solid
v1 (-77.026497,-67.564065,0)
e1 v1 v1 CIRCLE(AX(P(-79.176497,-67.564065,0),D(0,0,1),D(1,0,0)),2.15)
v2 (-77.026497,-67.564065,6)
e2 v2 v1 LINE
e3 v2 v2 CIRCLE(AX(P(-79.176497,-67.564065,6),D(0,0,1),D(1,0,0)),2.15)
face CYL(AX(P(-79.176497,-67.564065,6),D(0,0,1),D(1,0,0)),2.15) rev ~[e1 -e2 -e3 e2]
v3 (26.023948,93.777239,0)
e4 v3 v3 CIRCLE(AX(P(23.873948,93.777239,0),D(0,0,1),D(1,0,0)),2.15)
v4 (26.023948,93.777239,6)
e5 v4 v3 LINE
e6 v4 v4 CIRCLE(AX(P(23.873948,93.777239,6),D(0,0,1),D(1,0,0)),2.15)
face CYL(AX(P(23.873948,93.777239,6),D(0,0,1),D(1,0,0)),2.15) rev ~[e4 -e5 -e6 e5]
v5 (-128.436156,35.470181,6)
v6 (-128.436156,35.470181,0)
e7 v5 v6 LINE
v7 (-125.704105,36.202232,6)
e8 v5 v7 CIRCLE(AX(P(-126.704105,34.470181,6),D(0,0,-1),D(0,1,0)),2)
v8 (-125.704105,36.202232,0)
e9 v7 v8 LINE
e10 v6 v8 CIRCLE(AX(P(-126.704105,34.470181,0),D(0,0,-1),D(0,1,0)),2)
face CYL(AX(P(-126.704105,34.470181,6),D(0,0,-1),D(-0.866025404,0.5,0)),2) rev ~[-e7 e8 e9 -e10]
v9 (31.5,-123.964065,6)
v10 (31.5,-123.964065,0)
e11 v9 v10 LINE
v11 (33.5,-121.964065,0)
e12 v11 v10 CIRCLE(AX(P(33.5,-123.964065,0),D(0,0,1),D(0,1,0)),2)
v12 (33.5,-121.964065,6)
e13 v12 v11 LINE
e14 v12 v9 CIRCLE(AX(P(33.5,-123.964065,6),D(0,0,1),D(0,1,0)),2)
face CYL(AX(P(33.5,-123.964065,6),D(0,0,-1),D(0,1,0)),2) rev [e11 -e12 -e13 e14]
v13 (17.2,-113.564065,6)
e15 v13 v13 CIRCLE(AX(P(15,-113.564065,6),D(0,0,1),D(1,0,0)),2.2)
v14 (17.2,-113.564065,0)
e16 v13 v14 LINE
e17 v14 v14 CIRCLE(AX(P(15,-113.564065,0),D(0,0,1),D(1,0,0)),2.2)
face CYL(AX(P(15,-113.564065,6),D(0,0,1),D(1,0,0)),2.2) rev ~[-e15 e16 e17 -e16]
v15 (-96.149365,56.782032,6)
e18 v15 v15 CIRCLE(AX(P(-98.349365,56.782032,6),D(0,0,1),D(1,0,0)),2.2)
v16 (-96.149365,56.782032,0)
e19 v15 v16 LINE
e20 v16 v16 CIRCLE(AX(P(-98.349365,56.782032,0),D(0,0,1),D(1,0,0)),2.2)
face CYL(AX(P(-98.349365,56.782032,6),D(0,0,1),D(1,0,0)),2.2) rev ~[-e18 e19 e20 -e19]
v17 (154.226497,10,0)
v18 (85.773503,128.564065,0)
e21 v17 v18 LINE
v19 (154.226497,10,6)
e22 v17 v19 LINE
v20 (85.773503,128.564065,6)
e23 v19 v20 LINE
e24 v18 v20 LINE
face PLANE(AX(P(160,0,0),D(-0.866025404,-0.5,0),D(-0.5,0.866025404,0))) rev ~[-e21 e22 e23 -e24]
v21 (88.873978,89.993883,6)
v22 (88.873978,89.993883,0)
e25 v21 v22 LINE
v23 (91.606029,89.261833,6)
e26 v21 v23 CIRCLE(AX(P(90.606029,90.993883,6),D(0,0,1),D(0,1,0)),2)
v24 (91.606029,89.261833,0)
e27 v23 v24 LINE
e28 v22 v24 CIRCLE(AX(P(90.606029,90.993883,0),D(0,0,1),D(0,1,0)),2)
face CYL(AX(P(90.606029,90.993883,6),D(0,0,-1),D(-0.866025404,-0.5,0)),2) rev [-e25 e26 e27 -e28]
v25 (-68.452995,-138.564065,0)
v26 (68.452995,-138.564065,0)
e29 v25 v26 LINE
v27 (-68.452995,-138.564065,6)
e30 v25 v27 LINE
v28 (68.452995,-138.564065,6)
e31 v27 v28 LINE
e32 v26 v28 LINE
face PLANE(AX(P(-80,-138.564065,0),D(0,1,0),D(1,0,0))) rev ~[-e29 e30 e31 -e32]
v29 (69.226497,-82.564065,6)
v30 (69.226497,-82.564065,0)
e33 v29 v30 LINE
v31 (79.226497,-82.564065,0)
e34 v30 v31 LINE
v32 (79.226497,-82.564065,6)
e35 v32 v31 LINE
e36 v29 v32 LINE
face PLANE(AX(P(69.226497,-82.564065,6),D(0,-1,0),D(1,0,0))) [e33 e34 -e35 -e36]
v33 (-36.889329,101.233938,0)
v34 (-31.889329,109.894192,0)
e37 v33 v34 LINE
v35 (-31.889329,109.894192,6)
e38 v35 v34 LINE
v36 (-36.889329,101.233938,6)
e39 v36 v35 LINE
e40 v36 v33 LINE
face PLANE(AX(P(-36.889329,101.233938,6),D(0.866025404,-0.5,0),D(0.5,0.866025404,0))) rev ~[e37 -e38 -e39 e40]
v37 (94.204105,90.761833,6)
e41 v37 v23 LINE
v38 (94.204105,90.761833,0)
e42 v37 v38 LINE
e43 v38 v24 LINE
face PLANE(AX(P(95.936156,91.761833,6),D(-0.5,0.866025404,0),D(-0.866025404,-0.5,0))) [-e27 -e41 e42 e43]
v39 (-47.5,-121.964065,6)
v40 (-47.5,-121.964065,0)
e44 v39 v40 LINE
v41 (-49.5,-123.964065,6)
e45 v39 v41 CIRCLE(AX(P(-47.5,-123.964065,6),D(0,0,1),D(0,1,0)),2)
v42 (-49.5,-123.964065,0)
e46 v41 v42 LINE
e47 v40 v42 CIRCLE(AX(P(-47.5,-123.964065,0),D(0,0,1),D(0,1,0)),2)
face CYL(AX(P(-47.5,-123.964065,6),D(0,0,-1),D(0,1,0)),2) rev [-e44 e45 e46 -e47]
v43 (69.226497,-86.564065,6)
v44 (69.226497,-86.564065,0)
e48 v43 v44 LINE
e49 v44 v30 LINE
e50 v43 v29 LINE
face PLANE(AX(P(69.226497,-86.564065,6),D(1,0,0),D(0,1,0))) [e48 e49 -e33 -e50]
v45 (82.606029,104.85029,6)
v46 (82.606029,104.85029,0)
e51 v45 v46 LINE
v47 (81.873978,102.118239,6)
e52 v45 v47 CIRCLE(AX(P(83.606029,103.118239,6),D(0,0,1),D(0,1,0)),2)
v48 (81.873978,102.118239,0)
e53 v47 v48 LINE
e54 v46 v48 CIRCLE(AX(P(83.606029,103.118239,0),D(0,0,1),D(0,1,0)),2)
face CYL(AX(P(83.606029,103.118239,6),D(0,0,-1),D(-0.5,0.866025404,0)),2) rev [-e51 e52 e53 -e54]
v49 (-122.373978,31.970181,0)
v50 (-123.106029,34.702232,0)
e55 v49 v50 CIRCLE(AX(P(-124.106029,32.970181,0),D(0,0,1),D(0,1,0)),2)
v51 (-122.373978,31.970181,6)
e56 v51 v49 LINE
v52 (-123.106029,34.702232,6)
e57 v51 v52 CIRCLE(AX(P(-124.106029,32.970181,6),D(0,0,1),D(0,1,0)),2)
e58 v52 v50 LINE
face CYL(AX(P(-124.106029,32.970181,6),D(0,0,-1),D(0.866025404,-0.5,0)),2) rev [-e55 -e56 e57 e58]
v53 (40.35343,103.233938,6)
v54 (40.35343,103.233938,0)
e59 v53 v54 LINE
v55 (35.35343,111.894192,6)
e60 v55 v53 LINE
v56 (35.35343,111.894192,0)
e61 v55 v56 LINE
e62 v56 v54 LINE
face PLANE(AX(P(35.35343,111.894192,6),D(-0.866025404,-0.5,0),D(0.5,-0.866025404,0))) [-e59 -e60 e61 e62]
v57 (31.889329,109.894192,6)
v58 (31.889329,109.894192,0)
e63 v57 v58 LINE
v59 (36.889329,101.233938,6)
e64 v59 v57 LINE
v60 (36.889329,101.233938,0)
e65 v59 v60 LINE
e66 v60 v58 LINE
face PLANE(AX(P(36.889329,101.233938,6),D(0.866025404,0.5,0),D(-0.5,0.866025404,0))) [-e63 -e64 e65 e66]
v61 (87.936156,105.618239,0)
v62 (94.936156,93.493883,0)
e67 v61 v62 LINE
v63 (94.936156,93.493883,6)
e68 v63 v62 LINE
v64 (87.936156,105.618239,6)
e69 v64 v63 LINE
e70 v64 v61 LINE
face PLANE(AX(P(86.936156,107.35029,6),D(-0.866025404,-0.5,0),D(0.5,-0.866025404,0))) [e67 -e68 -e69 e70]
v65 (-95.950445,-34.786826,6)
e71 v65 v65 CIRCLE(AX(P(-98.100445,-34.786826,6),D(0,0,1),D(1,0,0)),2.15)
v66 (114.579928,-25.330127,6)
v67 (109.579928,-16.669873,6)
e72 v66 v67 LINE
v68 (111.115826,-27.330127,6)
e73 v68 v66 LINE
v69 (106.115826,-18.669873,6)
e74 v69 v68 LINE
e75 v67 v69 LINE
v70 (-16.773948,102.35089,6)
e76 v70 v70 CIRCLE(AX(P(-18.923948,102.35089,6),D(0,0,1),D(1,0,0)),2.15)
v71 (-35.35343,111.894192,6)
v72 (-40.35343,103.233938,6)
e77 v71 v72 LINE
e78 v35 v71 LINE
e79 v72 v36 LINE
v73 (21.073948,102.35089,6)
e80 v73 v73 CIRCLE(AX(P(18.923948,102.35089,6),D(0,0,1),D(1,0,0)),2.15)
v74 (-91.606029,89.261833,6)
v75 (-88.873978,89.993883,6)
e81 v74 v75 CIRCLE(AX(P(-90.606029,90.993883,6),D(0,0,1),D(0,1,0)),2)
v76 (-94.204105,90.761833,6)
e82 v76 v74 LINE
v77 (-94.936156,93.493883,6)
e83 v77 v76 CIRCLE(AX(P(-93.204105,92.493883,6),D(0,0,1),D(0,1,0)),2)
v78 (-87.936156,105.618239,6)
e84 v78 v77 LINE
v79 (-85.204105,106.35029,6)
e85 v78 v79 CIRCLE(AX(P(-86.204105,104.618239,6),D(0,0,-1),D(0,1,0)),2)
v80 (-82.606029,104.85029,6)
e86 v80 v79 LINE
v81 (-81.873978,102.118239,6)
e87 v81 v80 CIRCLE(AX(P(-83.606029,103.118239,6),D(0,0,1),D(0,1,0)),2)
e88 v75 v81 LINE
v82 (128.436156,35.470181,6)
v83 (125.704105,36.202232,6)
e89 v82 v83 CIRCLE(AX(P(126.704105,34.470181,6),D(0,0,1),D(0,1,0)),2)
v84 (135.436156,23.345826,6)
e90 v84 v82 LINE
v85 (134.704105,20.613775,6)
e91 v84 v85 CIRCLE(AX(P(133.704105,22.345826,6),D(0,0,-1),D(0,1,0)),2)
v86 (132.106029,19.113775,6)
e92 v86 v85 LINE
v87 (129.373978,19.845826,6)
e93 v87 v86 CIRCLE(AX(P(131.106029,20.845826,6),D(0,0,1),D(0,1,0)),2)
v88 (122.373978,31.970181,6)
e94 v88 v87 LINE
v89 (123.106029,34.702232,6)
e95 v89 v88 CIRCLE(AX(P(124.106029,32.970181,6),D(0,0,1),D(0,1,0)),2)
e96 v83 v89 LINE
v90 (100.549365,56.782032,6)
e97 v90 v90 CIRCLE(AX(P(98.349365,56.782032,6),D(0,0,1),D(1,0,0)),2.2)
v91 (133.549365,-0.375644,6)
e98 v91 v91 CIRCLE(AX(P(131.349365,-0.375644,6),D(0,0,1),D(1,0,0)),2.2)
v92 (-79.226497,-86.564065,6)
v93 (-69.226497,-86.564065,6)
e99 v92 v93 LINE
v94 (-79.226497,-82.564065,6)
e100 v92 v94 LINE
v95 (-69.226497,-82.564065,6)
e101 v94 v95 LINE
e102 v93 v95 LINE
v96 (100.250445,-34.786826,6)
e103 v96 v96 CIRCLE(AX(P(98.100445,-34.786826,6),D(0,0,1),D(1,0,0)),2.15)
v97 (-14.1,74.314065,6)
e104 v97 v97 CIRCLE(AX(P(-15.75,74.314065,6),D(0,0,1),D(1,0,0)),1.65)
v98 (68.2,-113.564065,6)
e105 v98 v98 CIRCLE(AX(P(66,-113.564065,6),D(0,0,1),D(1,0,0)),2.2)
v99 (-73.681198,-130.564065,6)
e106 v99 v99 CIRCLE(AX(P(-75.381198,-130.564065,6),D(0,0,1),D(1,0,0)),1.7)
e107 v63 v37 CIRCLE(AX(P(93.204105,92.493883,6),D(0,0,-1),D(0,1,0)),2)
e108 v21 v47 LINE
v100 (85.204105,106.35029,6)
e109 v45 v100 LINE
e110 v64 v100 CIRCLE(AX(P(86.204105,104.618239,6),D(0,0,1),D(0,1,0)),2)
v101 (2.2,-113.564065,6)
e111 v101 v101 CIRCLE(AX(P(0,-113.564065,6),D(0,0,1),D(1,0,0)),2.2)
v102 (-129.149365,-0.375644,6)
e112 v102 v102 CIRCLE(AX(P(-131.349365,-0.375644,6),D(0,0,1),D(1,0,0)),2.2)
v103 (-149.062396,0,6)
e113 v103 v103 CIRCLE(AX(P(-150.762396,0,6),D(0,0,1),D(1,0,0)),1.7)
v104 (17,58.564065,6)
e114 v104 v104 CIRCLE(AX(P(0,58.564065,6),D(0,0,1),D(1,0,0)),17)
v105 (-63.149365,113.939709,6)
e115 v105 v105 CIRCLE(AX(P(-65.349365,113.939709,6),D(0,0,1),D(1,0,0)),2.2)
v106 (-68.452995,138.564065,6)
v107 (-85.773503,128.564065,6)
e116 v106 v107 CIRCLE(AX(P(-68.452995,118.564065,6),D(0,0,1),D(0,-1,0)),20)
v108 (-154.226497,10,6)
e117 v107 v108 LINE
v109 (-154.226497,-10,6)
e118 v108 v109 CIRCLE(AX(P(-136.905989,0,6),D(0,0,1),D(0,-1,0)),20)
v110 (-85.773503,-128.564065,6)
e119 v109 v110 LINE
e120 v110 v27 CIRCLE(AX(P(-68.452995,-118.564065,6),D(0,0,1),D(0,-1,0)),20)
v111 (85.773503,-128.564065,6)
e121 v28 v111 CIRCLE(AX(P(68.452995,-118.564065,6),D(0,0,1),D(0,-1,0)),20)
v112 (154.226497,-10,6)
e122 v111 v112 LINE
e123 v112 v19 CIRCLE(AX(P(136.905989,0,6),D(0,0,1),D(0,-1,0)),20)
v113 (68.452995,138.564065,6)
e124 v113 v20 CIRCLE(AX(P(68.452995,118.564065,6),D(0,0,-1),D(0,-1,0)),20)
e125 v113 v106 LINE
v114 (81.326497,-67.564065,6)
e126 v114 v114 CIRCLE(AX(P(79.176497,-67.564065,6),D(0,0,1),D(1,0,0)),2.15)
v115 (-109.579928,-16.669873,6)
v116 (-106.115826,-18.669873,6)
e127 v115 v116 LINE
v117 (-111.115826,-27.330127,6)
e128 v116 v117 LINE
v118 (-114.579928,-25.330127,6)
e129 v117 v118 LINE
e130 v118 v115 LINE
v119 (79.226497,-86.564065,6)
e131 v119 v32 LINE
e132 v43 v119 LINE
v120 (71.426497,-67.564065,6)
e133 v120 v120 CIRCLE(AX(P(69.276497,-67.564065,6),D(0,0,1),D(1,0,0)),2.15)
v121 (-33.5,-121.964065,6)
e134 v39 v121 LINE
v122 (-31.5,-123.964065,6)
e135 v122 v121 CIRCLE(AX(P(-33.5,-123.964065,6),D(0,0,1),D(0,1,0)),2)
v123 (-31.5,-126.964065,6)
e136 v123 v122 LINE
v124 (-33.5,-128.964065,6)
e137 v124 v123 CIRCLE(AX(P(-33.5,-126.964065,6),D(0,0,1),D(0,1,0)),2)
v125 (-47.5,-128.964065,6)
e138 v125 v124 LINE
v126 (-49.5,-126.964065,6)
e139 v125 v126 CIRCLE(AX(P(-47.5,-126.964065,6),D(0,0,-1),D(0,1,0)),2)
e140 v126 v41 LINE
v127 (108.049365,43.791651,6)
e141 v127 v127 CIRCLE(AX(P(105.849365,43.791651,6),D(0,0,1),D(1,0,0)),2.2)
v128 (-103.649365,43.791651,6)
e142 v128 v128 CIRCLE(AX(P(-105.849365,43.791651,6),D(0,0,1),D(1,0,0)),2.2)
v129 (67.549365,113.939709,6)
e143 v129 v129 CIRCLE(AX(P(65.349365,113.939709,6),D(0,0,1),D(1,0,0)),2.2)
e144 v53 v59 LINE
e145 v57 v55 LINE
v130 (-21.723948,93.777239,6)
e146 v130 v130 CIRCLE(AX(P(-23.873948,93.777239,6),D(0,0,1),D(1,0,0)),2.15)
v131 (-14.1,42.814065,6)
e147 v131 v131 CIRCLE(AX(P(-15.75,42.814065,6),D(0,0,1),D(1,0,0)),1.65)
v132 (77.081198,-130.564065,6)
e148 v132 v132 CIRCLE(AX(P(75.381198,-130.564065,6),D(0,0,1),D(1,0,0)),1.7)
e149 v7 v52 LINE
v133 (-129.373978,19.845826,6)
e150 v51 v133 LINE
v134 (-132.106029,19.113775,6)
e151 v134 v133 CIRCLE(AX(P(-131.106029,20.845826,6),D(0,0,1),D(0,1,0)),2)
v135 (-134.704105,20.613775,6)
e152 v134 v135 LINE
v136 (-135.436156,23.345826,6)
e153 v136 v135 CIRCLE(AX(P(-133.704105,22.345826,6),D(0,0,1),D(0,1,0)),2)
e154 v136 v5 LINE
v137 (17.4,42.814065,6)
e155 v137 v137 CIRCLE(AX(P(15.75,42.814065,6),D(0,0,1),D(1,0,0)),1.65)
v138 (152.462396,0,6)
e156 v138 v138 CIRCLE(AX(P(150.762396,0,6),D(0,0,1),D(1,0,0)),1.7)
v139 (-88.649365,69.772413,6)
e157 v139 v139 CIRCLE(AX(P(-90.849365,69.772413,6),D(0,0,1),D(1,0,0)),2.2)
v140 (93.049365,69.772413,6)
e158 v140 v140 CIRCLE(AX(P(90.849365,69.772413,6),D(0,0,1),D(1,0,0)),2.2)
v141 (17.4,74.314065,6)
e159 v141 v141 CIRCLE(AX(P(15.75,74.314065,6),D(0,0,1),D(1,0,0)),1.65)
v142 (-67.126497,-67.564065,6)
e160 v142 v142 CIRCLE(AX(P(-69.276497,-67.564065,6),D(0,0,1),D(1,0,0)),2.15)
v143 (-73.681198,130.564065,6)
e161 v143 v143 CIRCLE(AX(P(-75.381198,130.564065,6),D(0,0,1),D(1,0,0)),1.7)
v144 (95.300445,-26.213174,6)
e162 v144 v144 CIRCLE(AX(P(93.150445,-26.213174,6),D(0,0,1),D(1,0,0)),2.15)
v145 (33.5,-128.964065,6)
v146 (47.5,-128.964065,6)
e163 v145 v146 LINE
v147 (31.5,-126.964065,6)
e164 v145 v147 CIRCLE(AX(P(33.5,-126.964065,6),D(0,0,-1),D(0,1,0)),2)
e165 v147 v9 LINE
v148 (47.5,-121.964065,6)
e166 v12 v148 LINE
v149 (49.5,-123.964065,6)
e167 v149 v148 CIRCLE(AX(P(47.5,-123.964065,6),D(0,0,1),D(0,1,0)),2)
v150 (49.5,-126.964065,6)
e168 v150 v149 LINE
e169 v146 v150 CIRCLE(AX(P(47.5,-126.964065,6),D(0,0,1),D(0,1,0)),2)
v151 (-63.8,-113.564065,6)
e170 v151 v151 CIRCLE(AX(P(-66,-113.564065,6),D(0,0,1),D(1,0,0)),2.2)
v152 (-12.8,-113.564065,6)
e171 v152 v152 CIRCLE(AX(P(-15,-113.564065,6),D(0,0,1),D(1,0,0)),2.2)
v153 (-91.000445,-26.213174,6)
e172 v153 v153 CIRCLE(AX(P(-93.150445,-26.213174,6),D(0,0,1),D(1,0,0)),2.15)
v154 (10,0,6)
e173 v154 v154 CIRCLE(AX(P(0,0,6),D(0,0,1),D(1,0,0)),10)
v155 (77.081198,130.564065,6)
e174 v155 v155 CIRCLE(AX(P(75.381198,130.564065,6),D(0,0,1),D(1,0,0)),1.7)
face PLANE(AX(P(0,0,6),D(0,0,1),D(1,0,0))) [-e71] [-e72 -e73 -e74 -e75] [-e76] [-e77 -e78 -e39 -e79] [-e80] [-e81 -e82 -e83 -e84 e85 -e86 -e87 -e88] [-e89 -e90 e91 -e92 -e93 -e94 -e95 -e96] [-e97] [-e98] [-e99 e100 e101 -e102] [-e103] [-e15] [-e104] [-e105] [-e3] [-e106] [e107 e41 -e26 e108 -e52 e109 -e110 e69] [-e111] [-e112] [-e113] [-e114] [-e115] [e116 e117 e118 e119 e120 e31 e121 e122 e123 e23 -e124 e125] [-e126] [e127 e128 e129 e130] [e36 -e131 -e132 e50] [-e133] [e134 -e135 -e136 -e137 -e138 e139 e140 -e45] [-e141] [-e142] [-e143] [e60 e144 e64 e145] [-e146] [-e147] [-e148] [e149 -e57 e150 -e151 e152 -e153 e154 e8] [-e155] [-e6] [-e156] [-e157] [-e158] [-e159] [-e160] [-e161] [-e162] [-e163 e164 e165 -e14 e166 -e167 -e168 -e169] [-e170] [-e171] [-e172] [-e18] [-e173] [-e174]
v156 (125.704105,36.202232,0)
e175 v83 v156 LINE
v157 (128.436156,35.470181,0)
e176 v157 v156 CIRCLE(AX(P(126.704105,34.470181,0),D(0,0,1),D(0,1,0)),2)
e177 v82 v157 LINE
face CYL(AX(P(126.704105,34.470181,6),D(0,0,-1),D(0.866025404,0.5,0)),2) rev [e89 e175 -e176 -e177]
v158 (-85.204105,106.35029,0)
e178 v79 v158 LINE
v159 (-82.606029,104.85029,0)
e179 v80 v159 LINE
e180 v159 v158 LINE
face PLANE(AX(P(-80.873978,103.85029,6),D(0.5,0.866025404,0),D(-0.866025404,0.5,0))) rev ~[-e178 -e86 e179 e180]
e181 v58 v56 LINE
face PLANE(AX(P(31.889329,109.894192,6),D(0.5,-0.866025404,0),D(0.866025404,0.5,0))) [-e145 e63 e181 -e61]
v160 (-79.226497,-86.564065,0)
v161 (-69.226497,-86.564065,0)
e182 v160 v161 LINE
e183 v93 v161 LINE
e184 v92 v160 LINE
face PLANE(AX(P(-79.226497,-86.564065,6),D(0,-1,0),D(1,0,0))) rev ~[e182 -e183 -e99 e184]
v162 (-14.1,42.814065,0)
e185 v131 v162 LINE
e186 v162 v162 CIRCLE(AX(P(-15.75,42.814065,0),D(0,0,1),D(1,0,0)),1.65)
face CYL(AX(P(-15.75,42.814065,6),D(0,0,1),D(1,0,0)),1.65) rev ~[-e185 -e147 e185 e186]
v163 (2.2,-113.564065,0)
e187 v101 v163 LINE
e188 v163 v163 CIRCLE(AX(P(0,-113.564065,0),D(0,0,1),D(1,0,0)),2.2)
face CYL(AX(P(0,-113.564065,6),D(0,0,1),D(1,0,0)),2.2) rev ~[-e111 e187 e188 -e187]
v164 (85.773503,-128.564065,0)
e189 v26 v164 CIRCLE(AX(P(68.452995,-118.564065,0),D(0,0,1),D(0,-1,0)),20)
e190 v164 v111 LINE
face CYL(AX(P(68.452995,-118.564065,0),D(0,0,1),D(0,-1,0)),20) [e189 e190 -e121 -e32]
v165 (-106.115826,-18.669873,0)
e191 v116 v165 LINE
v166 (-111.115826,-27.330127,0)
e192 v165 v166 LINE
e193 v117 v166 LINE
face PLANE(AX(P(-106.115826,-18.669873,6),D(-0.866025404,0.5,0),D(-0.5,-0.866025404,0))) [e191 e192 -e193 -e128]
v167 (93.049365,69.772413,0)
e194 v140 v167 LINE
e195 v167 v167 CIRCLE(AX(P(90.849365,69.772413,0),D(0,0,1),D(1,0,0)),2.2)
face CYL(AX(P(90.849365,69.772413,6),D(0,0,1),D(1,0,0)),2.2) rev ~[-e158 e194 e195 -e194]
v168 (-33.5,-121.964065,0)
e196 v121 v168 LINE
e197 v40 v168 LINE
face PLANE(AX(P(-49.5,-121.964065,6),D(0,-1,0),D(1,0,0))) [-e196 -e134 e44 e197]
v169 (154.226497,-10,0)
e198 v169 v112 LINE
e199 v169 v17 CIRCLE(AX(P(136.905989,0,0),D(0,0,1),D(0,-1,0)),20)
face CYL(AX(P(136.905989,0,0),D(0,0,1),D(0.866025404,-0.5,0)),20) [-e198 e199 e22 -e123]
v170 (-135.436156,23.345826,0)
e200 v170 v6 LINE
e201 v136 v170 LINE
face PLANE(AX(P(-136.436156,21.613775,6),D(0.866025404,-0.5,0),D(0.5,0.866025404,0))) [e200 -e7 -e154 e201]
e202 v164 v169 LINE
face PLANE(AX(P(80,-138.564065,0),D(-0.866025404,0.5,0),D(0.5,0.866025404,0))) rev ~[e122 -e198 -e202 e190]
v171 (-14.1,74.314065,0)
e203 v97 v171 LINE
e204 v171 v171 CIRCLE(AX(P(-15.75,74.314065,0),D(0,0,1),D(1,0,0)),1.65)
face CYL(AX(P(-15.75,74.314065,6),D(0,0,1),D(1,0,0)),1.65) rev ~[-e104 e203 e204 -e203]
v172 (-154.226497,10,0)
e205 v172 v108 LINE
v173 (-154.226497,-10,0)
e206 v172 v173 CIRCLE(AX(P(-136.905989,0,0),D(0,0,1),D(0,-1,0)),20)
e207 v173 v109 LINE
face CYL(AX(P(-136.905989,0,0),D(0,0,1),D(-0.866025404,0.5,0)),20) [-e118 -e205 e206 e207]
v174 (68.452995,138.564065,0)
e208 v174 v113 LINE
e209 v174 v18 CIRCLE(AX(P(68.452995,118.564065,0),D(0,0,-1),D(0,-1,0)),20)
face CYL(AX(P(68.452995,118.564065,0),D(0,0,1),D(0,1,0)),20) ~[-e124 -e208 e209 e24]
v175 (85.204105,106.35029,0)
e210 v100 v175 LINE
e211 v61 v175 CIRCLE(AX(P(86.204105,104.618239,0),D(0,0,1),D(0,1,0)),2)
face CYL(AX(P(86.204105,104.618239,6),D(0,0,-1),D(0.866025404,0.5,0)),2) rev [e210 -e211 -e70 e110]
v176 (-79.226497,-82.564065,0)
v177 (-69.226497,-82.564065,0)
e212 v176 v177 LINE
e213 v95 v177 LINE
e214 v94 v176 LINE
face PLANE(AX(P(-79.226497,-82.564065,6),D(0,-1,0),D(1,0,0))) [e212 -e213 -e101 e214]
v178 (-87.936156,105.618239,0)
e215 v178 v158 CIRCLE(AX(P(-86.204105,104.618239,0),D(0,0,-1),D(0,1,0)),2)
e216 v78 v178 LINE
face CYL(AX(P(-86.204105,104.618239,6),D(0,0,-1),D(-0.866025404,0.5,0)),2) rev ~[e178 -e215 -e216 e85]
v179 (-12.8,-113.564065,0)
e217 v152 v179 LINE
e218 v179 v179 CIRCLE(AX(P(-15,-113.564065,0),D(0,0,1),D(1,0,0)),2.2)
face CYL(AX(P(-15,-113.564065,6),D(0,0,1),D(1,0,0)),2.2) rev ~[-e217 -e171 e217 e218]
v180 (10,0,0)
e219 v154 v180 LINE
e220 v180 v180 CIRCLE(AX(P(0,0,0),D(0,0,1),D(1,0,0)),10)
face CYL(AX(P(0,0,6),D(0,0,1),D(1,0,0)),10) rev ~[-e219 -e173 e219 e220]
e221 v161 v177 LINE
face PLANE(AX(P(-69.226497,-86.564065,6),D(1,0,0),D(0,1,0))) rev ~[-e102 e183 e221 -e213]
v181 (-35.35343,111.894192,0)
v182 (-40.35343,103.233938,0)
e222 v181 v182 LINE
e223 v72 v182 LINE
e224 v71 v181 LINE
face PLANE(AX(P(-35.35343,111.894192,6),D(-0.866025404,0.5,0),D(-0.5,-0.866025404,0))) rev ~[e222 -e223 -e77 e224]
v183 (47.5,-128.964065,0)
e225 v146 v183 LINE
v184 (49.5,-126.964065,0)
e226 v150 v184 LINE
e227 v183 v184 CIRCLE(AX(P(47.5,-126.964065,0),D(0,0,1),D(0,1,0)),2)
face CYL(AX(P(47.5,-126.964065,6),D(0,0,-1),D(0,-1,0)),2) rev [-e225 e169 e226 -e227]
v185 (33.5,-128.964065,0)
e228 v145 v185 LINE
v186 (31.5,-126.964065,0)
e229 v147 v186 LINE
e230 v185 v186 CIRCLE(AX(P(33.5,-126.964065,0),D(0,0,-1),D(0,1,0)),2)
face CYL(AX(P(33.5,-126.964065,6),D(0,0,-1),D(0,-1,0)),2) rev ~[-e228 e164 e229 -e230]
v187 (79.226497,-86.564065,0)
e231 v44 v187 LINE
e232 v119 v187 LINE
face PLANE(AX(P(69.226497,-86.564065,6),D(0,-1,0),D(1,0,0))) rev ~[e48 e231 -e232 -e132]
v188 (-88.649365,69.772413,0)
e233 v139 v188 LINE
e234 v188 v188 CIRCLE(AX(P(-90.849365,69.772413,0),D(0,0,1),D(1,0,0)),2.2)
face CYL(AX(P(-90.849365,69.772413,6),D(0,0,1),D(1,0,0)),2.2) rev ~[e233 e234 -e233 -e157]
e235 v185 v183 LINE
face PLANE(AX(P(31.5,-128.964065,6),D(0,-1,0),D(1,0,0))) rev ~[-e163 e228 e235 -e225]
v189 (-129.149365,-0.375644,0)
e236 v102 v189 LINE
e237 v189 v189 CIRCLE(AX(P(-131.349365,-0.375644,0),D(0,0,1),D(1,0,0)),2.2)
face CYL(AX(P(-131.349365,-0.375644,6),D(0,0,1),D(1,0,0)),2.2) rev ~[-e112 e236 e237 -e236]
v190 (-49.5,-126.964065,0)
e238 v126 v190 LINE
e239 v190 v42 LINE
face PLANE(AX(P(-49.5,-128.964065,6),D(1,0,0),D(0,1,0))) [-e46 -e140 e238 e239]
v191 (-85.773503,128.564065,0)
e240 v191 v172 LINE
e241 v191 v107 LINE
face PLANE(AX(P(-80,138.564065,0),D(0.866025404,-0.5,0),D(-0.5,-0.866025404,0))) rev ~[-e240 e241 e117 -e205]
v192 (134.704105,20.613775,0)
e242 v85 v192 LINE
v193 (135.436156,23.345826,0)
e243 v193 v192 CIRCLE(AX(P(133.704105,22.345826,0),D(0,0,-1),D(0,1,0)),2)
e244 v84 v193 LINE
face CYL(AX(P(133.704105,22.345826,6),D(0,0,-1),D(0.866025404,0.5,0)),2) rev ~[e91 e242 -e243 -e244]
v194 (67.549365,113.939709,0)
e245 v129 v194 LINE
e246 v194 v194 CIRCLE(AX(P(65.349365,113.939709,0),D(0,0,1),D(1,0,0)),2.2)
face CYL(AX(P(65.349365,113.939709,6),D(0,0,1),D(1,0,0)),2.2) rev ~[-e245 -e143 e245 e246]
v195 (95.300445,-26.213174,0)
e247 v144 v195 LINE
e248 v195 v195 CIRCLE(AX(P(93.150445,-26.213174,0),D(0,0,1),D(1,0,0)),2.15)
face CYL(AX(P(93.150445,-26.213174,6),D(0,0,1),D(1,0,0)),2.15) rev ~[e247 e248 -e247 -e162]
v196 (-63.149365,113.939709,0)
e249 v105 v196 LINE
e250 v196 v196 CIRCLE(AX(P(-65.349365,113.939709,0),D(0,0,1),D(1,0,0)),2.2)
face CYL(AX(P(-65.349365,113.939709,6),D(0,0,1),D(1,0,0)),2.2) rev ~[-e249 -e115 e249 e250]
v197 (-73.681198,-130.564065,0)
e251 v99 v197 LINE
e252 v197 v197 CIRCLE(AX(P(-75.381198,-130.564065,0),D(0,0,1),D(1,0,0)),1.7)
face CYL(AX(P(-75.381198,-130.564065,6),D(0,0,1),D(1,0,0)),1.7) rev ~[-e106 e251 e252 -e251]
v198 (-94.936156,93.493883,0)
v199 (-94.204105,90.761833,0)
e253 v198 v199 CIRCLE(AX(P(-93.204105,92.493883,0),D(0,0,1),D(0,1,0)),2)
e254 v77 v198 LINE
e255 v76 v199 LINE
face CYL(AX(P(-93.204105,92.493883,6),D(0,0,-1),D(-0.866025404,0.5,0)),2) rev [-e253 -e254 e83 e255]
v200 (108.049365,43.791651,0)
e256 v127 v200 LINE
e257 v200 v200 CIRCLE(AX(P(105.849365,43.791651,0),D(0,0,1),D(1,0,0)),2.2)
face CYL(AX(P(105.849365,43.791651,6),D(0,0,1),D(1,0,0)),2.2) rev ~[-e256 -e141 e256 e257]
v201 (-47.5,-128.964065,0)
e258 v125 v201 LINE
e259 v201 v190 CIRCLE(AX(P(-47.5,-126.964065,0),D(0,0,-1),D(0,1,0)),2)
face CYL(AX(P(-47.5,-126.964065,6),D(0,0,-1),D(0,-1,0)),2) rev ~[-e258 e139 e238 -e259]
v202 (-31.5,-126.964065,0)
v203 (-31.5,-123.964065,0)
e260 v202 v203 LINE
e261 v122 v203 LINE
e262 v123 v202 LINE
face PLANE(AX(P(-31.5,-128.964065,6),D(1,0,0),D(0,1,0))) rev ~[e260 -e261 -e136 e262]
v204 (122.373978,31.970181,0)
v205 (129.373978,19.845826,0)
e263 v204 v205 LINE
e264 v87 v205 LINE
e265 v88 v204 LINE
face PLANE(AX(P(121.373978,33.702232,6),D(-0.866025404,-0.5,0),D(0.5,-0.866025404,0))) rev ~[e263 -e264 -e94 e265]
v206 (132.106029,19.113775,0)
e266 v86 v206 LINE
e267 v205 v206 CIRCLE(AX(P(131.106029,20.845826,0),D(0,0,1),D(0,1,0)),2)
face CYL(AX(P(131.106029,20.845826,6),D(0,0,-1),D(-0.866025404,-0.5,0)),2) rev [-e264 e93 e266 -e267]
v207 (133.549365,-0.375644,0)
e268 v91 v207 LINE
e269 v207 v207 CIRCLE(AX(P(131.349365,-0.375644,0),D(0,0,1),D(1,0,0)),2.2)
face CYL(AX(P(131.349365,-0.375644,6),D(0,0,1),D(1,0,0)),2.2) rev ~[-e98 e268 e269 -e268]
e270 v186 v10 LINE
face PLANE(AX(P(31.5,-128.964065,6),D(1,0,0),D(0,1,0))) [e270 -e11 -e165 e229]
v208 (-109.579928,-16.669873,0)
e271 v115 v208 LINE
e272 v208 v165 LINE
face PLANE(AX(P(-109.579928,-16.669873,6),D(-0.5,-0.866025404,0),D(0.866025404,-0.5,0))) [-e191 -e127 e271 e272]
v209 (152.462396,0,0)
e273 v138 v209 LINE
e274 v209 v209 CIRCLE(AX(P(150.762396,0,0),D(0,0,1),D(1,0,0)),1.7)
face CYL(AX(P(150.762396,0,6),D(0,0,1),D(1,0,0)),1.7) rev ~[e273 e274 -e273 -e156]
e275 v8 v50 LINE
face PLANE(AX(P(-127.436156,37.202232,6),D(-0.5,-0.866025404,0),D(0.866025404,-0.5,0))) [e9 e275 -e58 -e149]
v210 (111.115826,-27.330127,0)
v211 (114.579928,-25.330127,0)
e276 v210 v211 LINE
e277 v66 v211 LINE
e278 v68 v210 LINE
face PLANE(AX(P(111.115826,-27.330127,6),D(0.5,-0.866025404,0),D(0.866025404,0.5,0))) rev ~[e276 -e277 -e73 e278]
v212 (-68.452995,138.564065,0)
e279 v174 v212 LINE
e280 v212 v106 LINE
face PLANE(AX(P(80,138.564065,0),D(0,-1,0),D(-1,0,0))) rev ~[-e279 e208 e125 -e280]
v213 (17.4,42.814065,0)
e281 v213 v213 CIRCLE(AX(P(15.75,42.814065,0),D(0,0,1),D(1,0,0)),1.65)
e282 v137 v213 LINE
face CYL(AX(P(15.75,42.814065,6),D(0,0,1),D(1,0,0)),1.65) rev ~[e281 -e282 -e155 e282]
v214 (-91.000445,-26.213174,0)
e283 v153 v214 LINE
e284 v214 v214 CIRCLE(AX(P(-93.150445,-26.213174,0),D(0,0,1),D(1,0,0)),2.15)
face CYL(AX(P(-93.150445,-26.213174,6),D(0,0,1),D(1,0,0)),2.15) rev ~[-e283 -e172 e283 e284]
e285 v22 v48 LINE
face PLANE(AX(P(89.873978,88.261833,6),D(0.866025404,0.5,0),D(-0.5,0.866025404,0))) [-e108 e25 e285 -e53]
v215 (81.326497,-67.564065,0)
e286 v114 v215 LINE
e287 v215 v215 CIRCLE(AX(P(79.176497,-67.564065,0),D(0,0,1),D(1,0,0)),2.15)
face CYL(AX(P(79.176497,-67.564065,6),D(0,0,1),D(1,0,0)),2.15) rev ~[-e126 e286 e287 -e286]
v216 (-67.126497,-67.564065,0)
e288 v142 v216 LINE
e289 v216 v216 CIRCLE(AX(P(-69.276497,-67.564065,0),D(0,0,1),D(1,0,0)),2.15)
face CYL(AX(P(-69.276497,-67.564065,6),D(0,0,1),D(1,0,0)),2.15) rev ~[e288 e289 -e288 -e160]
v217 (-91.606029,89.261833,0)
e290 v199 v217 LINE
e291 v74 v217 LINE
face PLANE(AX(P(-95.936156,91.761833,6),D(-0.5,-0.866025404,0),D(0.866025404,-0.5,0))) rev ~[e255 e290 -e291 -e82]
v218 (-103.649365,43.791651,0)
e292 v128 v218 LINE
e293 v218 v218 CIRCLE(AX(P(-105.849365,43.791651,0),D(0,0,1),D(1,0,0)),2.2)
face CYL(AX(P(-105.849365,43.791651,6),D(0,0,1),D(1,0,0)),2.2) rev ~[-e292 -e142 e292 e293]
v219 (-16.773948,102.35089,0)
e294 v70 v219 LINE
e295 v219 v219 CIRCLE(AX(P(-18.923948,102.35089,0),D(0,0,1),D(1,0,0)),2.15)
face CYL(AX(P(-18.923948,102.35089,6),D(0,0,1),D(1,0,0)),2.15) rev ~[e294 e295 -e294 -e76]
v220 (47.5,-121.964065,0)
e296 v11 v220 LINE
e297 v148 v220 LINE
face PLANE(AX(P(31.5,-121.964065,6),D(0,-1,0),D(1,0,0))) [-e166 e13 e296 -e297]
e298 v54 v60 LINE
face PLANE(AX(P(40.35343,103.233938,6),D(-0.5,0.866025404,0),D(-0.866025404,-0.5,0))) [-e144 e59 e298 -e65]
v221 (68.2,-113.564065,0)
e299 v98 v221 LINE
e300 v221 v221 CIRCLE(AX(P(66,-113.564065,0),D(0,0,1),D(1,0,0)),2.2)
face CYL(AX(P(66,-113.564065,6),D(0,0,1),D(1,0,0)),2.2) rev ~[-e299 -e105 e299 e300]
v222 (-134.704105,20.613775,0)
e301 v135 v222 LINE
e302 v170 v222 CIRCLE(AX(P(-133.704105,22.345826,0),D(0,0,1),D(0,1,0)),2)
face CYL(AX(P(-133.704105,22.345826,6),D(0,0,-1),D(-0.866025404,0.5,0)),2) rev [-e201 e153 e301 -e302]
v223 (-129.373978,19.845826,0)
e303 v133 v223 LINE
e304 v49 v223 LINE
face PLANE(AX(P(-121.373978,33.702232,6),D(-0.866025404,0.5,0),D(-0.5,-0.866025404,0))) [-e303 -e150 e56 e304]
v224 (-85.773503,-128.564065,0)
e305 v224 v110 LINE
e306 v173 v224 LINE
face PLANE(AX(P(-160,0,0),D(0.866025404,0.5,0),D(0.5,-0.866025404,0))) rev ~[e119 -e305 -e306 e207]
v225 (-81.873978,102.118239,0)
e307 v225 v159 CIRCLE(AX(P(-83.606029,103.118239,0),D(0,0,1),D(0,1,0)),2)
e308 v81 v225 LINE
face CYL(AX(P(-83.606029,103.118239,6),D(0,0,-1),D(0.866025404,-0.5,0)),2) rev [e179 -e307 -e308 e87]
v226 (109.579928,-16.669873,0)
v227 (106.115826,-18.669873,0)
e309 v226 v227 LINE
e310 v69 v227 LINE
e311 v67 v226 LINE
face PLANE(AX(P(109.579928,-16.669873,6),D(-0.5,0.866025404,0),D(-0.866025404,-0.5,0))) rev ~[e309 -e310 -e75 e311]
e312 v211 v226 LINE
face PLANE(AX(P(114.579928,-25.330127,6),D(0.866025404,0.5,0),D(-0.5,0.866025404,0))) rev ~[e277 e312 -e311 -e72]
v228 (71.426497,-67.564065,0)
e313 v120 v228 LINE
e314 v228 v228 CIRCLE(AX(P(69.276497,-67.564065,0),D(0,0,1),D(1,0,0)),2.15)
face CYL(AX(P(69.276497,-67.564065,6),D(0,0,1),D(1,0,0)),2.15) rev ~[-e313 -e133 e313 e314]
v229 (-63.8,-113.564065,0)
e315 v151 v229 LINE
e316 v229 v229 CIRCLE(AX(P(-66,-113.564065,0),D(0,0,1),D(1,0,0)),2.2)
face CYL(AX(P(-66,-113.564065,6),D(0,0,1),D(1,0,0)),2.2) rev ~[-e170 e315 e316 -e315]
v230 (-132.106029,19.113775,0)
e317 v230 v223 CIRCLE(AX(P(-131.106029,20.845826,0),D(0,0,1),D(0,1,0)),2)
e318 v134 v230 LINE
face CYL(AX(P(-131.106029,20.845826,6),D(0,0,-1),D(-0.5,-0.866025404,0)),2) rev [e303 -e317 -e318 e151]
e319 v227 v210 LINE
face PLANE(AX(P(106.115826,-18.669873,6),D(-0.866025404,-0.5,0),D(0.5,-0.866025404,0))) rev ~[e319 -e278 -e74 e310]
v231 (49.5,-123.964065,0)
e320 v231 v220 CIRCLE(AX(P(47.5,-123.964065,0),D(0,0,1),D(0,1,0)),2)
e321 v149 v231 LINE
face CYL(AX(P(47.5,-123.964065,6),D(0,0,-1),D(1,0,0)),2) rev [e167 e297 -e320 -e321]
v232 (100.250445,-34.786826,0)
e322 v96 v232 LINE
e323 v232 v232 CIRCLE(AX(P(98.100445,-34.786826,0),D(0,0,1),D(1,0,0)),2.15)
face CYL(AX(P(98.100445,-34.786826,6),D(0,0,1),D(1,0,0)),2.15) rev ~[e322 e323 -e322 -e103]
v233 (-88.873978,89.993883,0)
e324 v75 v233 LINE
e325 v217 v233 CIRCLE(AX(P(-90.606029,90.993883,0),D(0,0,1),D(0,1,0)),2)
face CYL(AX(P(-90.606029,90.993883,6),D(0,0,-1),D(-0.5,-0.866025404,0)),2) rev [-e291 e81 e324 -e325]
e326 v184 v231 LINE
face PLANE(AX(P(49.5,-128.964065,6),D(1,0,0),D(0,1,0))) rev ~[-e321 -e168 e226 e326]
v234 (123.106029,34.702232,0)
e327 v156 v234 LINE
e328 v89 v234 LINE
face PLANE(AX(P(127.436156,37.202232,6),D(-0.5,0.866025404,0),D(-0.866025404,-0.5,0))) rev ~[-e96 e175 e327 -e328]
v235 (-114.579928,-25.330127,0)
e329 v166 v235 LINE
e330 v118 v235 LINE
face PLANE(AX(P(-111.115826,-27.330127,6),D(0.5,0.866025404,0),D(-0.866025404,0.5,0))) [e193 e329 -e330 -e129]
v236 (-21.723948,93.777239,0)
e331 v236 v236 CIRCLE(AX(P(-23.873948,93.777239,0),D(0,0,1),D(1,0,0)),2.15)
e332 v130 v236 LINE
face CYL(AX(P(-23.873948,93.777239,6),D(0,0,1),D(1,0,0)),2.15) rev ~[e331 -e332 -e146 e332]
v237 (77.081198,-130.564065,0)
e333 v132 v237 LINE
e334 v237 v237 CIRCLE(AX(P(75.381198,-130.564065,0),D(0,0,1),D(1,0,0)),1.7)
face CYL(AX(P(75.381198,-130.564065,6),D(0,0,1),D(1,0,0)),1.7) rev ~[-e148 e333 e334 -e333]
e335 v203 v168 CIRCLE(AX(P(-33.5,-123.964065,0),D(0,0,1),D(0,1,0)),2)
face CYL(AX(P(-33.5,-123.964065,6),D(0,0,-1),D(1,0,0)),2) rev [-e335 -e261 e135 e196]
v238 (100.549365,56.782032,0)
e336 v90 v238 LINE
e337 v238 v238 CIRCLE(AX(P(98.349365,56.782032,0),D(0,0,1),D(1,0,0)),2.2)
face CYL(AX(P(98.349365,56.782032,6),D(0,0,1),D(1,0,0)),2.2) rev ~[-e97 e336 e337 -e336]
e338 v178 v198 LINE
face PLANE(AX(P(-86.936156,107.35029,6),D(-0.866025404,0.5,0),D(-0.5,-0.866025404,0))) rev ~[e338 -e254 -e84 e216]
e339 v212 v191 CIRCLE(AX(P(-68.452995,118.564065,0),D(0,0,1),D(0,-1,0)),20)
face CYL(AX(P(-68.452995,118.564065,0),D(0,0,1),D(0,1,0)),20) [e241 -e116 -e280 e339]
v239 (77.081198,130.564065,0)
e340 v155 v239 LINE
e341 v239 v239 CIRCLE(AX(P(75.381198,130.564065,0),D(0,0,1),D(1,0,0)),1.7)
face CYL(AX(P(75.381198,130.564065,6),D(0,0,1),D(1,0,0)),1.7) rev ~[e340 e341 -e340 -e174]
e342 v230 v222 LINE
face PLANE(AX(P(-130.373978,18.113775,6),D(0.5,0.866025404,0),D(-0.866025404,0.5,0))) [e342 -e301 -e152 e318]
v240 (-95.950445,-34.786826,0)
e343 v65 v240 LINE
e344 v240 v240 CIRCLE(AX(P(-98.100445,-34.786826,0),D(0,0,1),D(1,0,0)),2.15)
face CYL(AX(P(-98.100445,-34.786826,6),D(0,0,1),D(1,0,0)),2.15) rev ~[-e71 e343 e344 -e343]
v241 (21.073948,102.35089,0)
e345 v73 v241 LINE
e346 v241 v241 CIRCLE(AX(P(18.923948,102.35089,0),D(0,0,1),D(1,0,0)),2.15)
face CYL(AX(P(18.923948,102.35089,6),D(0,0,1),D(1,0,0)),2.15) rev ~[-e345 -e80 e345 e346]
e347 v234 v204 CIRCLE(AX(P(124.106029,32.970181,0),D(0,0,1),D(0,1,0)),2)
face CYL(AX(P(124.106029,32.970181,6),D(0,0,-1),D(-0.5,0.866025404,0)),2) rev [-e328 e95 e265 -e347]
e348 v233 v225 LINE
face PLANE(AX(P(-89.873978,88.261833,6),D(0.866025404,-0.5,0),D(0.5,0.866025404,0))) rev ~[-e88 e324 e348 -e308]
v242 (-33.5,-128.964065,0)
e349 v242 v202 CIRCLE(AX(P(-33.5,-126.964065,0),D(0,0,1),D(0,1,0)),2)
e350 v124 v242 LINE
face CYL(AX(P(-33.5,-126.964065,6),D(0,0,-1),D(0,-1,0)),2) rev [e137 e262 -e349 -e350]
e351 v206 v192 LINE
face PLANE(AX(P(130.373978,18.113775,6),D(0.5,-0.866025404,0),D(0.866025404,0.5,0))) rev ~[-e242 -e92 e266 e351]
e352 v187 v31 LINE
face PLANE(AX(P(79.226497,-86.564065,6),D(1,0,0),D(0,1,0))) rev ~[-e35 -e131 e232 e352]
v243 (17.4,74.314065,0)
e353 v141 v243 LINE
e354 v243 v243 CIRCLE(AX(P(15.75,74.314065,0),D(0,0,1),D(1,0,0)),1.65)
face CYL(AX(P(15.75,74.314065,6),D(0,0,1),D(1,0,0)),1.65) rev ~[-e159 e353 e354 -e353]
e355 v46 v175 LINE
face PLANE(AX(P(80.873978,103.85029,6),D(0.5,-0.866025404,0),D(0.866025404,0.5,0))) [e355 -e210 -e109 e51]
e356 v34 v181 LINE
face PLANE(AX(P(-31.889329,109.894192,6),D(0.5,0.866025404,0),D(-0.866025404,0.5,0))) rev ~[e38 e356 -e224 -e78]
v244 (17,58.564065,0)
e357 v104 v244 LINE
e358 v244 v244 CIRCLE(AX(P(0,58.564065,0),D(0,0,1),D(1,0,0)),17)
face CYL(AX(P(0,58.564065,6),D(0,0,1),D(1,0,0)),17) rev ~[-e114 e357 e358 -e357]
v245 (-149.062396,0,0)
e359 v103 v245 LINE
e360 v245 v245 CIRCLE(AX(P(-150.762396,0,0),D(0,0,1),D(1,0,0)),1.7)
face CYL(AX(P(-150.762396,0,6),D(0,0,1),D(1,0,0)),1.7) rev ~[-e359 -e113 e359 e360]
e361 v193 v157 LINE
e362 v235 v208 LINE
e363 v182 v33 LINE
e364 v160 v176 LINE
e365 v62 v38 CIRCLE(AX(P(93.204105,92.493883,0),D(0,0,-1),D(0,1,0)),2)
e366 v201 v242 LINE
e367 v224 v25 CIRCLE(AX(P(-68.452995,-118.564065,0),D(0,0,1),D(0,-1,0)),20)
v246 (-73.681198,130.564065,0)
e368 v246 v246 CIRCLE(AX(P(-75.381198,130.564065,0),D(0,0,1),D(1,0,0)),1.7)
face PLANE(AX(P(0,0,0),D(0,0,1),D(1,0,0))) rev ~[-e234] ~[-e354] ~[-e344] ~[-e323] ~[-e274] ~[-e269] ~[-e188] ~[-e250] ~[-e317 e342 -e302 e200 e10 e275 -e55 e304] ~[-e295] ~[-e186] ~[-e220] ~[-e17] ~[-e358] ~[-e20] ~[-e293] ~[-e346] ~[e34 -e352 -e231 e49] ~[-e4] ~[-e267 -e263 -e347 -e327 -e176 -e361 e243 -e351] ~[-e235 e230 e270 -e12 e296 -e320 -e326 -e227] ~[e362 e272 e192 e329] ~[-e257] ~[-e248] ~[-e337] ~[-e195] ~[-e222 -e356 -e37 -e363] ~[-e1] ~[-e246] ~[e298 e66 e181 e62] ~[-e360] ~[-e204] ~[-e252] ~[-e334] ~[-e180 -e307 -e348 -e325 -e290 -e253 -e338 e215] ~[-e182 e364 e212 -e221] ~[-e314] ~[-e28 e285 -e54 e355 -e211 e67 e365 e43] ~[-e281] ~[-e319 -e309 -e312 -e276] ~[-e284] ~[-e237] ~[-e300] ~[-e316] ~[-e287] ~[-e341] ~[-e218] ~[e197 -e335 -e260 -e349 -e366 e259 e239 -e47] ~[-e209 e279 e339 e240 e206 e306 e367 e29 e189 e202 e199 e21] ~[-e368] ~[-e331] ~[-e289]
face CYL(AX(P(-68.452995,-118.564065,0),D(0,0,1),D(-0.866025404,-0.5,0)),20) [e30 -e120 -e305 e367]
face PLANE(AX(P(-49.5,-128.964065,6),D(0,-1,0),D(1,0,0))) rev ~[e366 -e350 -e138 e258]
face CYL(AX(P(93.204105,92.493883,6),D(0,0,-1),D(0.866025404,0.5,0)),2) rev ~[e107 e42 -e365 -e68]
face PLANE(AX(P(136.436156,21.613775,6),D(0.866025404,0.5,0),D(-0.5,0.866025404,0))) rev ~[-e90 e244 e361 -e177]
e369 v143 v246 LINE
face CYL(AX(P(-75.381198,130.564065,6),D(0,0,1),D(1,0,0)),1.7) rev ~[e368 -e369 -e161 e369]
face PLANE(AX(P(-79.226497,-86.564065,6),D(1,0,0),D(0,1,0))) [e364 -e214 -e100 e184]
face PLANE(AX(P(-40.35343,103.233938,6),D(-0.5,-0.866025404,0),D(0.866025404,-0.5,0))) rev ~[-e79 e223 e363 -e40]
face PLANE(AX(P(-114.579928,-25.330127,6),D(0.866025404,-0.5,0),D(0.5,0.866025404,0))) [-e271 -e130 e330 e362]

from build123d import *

# Parameters (mm, degrees)
BOSS_EXTRUDE1_DEPTH = 6
FILLET1_R           = 20
SKETCH5_R           = 2.2
CUT_EXTRUDE3_DEPTH  = 10
SKETCH6_W           = 18
SKETCH6_H           = 7
CUT_EXTRUDE4_DEPTH  = 10
FILLET3_R           = 2
SKETCH9_R           = 1.7
CUT_EXTRUDE7_DEPTH  = 70
SKETCH14_R          = 10
CUT_EXTRUDE10_DEPTH = 43
SKETCH15_W          = 10
SKETCH15_H          = 4
CUT_EXTRUDE11_DEPTH = 10
SKETCH16_R          = 1.65
SKETCH16_R_2        = 17
CUT_EXTRUDE12_DEPTH = 10
SKETCH19_R          = 2.2
CUT_EXTRUDE14_DEPTH = 10
SKETCH23_R          = 2.15
CUT_EXTRUDE15_DEPTH = 10


with BuildPart() as part:
    # Sketch1 → Boss-Extrude1 (new body)
    with BuildSketch(Plane.XY):
        Polygon((80, 138.564064606), (-80, 138.564064606), (-160, 0), (-80, -138.564064606), (80, -138.564064606), (160, 0), align=None)
    extrude(amount=BOSS_EXTRUDE1_DEPTH)

    # Fillet1
    fillet1_edges = [part.edges().sort_by_distance(p)[0] for p in [
        (160, 0, 3),
        (80, -138.564064606, 3),
        (-80, -138.564064606, 3),
        (-160, 0, 3),
        (-80, 138.564064606, 3),
        (80, 138.564064606, 3),
    ]]
    fillet(fillet1_edges, radius=FILLET1_R)

    # Sketch5 → Cut-Extrude3 (cut)
    with BuildSketch(Plane.XY.offset(6)):
        with Locations((-66, -113.564064606)):
            Circle(SKETCH5_R)
        with Locations((-15, -113.564064606)):
            Circle(SKETCH5_R)
        with Locations((15, -113.564064606)):
            Circle(SKETCH5_R)
        with Locations((66, -113.564064606)):
            Circle(SKETCH5_R)
        with Locations((-65.349364905, 113.939708953)):
            Circle(SKETCH5_R)
        with Locations((-90.849364905, 69.77241336)):
            Circle(SKETCH5_R)
        with Locations((-105.849364905, 43.791651246)):
            Circle(SKETCH5_R)
        with Locations((-131.349364905, -0.375644347)):
            Circle(SKETCH5_R)
        with Locations((131.349364905, -0.375644347)):
            Circle(SKETCH5_R)
        with Locations((105.849364905, 43.791651246)):
            Circle(SKETCH5_R)
        with Locations((90.849364905, 69.77241336)):
            Circle(SKETCH5_R)
        with Locations((65.349364905, 113.939708953)):
            Circle(SKETCH5_R)
    extrude(amount=-CUT_EXTRUDE3_DEPTH, mode=Mode.SUBTRACT)

    # Sketch6 → Cut-Extrude4 (cut)
    with BuildSketch(Plane.XY.offset(6)):
        with Locations((-40.5, -125.464064606)):
            Rectangle(SKETCH6_W, SKETCH6_H)
        with Locations((40.5, -125.464064606)):
            Rectangle(SKETCH6_W, SKETCH6_H)
        Polygon((-86.936156124, 107.35028979), (-95.936156124, 91.761832522), (-89.873978297, 88.261832522), (-80.873978297, 103.85028979), align=None)
        Polygon((-127.436156124, 37.202232084), (-121.373978297, 33.702232084), (-130.373978297, 18.113774815), (-136.436156124, 21.613774815), align=None)
        Polygon((136.436156124, 21.613774815), (127.436156124, 37.202232084), (121.373978297, 33.702232084), (130.373978297, 18.113774815), align=None)
        Polygon((95.936156124, 91.761832522), (89.873978297, 88.261832522), (80.873978297, 103.85028979), (86.936156124, 107.35028979), align=None)
    extrude(amount=-CUT_EXTRUDE4_DEPTH, mode=Mode.SUBTRACT)

    # Fillet3
    fillet3_edges = [part.edges().sort_by_distance(p)[0] for p in [
        (121.373978297, 33.702232084, 3),
        (127.436156124, 37.202232084, 3),
        (136.436156124, 21.613774815, 3),
        (130.373978297, 18.113774815, 3),
        (-130.373978297, 18.113774815, 3),
        (-136.436156124, 21.613774815, 3),
        (-127.436156124, 37.202232084, 3),
        (-121.373978297, 33.702232084, 3),
        (-89.873978297, 88.261832522, 3),
        (-95.936156124, 91.761832522, 3),
        (-86.936156124, 107.35028979, 3),
        (-80.873978297, 103.85028979, 3),
        (49.5, -121.964064606, 3),
        (49.5, -128.964064606, 3),
        (31.5, -128.964064606, 3),
        (31.5, -121.964064606, 3),
        (80.873978297, 103.85028979, 3),
        (86.936156124, 107.35028979, 3),
        (95.936156124, 91.761832522, 3),
        (89.873978297, 88.261832522, 3),
        (-31.5, -121.964064606, 3),
        (-31.5, -128.964064606, 3),
        (-49.5, -128.964064606, 3),
        (-49.5, -121.964064606, 3),
    ]]
    fillet(fillet3_edges, radius=FILLET3_R)

    # Sketch9 → Cut-Extrude7 (cut)
    with BuildSketch(Plane.XY.offset(6)):
        with Locations((-75.381197846, -130.564064606)):
            Circle(SKETCH9_R)
        with Locations((75.381197846, -130.564064606)):
            Circle(SKETCH9_R)
        with Locations((-75.381197846, 130.564064606)):
            Circle(SKETCH9_R)
        with Locations((-150.762395693, 0)):
            Circle(SKETCH9_R)
        with Locations((150.762395693, 0)):
            Circle(SKETCH9_R)
        with Locations((75.381197846, 130.564064606)):
            Circle(SKETCH9_R)
    extrude(amount=-CUT_EXTRUDE7_DEPTH, mode=Mode.SUBTRACT)

    # Sketch14 → Cut-Extrude10 (cut)
    with BuildSketch(Plane.XY.offset(6)):
        Circle(SKETCH14_R)
    extrude(amount=-CUT_EXTRUDE10_DEPTH, mode=Mode.SUBTRACT)

    # Sketch15 → Cut-Extrude11 (cut)
    with BuildSketch(Plane.XY.offset(6)):
        Polygon((-109.579927657, -16.669872981), (-106.115826042, -18.669872981), (-111.115826042, -27.330127019), (-114.579927657, -25.330127019), align=None)
        Polygon((-35.353430349, 111.894191624), (-40.353430349, 103.233937587), (-36.889328734, 101.233937587), (-31.889328734, 109.894191624), align=None)
        Polygon((40.353430349, 103.233937587), (36.889328734, 101.233937587), (31.889328734, 109.894191624), (35.353430349, 111.894191624), align=None)
        Polygon((114.579927657, -25.330127019), (109.579927657, -16.669872981), (106.115826042, -18.669872981), (111.115826042, -27.330127019), align=None)
        with Locations((74.226497308, -84.564064606)):
            Rectangle(SKETCH15_W, SKETCH15_H)
        with Locations((-74.226497308, -84.564064606)):
            Rectangle(SKETCH15_W, SKETCH15_H)
    extrude(amount=-CUT_EXTRUDE11_DEPTH, mode=Mode.SUBTRACT)

    # Sketch16 → Cut-Extrude12 (cut)
    with BuildSketch(Plane.XY.offset(6)):
        with Locations((15.75, 74.314064606)):
            Circle(SKETCH16_R)
        with Locations((-15.75, 74.314064606)):
            Circle(SKETCH16_R)
        with Locations((15.75, 42.814064606)):
            Circle(SKETCH16_R)
        with Locations((-15.75, 42.814064606)):
            Circle(SKETCH16_R)
        with Locations((0, 58.564064606)):
            Circle(SKETCH16_R_2)
    extrude(amount=-CUT_EXTRUDE12_DEPTH, mode=Mode.SUBTRACT)

    # Sketch19 → Cut-Extrude14 (cut)
    with BuildSketch(Plane.XY.offset(6)):
        with Locations((-98.349364905, 56.782032303)):
            Circle(SKETCH19_R)
        with Locations((98.349364905, 56.782032303)):
            Circle(SKETCH19_R)
        with Locations((0, -113.564064606)):
            Circle(SKETCH19_R)
    extrude(amount=-CUT_EXTRUDE14_DEPTH, mode=Mode.SUBTRACT)

    # Sketch23 → Cut-Extrude15 (cut)
    with BuildSketch(Plane.XY.offset(6)):
        with Locations((79.176497308, -67.564064606)):
            Circle(SKETCH23_R)
        with Locations((69.276497308, -67.564064606)):
            Circle(SKETCH23_R)
        with Locations((-69.276497308, -67.564064606)):
            Circle(SKETCH23_R)
        with Locations((-79.176497308, -67.564064606)):
            Circle(SKETCH23_R)
        with Locations((-98.100444985, -34.786825749)):
            Circle(SKETCH23_R)
        with Locations((-93.150444985, -26.213174251)):
            Circle(SKETCH23_R)
        with Locations((-23.873947677, 93.777238857)):
            Circle(SKETCH23_R)
        with Locations((-18.923947677, 102.350890354)):
            Circle(SKETCH23_R)
        with Locations((18.923947677, 102.350890354)):
            Circle(SKETCH23_R)
        with Locations((23.873947677, 93.777238857)):
            Circle(SKETCH23_R)
        with Locations((93.150444985, -26.213174251)):
            Circle(SKETCH23_R)
        with Locations((98.100444985, -34.786825749)):
            Circle(SKETCH23_R)
    extrude(amount=-CUT_EXTRUDE15_DEPTH, mode=Mode.SUBTRACT)


solid = part.part
